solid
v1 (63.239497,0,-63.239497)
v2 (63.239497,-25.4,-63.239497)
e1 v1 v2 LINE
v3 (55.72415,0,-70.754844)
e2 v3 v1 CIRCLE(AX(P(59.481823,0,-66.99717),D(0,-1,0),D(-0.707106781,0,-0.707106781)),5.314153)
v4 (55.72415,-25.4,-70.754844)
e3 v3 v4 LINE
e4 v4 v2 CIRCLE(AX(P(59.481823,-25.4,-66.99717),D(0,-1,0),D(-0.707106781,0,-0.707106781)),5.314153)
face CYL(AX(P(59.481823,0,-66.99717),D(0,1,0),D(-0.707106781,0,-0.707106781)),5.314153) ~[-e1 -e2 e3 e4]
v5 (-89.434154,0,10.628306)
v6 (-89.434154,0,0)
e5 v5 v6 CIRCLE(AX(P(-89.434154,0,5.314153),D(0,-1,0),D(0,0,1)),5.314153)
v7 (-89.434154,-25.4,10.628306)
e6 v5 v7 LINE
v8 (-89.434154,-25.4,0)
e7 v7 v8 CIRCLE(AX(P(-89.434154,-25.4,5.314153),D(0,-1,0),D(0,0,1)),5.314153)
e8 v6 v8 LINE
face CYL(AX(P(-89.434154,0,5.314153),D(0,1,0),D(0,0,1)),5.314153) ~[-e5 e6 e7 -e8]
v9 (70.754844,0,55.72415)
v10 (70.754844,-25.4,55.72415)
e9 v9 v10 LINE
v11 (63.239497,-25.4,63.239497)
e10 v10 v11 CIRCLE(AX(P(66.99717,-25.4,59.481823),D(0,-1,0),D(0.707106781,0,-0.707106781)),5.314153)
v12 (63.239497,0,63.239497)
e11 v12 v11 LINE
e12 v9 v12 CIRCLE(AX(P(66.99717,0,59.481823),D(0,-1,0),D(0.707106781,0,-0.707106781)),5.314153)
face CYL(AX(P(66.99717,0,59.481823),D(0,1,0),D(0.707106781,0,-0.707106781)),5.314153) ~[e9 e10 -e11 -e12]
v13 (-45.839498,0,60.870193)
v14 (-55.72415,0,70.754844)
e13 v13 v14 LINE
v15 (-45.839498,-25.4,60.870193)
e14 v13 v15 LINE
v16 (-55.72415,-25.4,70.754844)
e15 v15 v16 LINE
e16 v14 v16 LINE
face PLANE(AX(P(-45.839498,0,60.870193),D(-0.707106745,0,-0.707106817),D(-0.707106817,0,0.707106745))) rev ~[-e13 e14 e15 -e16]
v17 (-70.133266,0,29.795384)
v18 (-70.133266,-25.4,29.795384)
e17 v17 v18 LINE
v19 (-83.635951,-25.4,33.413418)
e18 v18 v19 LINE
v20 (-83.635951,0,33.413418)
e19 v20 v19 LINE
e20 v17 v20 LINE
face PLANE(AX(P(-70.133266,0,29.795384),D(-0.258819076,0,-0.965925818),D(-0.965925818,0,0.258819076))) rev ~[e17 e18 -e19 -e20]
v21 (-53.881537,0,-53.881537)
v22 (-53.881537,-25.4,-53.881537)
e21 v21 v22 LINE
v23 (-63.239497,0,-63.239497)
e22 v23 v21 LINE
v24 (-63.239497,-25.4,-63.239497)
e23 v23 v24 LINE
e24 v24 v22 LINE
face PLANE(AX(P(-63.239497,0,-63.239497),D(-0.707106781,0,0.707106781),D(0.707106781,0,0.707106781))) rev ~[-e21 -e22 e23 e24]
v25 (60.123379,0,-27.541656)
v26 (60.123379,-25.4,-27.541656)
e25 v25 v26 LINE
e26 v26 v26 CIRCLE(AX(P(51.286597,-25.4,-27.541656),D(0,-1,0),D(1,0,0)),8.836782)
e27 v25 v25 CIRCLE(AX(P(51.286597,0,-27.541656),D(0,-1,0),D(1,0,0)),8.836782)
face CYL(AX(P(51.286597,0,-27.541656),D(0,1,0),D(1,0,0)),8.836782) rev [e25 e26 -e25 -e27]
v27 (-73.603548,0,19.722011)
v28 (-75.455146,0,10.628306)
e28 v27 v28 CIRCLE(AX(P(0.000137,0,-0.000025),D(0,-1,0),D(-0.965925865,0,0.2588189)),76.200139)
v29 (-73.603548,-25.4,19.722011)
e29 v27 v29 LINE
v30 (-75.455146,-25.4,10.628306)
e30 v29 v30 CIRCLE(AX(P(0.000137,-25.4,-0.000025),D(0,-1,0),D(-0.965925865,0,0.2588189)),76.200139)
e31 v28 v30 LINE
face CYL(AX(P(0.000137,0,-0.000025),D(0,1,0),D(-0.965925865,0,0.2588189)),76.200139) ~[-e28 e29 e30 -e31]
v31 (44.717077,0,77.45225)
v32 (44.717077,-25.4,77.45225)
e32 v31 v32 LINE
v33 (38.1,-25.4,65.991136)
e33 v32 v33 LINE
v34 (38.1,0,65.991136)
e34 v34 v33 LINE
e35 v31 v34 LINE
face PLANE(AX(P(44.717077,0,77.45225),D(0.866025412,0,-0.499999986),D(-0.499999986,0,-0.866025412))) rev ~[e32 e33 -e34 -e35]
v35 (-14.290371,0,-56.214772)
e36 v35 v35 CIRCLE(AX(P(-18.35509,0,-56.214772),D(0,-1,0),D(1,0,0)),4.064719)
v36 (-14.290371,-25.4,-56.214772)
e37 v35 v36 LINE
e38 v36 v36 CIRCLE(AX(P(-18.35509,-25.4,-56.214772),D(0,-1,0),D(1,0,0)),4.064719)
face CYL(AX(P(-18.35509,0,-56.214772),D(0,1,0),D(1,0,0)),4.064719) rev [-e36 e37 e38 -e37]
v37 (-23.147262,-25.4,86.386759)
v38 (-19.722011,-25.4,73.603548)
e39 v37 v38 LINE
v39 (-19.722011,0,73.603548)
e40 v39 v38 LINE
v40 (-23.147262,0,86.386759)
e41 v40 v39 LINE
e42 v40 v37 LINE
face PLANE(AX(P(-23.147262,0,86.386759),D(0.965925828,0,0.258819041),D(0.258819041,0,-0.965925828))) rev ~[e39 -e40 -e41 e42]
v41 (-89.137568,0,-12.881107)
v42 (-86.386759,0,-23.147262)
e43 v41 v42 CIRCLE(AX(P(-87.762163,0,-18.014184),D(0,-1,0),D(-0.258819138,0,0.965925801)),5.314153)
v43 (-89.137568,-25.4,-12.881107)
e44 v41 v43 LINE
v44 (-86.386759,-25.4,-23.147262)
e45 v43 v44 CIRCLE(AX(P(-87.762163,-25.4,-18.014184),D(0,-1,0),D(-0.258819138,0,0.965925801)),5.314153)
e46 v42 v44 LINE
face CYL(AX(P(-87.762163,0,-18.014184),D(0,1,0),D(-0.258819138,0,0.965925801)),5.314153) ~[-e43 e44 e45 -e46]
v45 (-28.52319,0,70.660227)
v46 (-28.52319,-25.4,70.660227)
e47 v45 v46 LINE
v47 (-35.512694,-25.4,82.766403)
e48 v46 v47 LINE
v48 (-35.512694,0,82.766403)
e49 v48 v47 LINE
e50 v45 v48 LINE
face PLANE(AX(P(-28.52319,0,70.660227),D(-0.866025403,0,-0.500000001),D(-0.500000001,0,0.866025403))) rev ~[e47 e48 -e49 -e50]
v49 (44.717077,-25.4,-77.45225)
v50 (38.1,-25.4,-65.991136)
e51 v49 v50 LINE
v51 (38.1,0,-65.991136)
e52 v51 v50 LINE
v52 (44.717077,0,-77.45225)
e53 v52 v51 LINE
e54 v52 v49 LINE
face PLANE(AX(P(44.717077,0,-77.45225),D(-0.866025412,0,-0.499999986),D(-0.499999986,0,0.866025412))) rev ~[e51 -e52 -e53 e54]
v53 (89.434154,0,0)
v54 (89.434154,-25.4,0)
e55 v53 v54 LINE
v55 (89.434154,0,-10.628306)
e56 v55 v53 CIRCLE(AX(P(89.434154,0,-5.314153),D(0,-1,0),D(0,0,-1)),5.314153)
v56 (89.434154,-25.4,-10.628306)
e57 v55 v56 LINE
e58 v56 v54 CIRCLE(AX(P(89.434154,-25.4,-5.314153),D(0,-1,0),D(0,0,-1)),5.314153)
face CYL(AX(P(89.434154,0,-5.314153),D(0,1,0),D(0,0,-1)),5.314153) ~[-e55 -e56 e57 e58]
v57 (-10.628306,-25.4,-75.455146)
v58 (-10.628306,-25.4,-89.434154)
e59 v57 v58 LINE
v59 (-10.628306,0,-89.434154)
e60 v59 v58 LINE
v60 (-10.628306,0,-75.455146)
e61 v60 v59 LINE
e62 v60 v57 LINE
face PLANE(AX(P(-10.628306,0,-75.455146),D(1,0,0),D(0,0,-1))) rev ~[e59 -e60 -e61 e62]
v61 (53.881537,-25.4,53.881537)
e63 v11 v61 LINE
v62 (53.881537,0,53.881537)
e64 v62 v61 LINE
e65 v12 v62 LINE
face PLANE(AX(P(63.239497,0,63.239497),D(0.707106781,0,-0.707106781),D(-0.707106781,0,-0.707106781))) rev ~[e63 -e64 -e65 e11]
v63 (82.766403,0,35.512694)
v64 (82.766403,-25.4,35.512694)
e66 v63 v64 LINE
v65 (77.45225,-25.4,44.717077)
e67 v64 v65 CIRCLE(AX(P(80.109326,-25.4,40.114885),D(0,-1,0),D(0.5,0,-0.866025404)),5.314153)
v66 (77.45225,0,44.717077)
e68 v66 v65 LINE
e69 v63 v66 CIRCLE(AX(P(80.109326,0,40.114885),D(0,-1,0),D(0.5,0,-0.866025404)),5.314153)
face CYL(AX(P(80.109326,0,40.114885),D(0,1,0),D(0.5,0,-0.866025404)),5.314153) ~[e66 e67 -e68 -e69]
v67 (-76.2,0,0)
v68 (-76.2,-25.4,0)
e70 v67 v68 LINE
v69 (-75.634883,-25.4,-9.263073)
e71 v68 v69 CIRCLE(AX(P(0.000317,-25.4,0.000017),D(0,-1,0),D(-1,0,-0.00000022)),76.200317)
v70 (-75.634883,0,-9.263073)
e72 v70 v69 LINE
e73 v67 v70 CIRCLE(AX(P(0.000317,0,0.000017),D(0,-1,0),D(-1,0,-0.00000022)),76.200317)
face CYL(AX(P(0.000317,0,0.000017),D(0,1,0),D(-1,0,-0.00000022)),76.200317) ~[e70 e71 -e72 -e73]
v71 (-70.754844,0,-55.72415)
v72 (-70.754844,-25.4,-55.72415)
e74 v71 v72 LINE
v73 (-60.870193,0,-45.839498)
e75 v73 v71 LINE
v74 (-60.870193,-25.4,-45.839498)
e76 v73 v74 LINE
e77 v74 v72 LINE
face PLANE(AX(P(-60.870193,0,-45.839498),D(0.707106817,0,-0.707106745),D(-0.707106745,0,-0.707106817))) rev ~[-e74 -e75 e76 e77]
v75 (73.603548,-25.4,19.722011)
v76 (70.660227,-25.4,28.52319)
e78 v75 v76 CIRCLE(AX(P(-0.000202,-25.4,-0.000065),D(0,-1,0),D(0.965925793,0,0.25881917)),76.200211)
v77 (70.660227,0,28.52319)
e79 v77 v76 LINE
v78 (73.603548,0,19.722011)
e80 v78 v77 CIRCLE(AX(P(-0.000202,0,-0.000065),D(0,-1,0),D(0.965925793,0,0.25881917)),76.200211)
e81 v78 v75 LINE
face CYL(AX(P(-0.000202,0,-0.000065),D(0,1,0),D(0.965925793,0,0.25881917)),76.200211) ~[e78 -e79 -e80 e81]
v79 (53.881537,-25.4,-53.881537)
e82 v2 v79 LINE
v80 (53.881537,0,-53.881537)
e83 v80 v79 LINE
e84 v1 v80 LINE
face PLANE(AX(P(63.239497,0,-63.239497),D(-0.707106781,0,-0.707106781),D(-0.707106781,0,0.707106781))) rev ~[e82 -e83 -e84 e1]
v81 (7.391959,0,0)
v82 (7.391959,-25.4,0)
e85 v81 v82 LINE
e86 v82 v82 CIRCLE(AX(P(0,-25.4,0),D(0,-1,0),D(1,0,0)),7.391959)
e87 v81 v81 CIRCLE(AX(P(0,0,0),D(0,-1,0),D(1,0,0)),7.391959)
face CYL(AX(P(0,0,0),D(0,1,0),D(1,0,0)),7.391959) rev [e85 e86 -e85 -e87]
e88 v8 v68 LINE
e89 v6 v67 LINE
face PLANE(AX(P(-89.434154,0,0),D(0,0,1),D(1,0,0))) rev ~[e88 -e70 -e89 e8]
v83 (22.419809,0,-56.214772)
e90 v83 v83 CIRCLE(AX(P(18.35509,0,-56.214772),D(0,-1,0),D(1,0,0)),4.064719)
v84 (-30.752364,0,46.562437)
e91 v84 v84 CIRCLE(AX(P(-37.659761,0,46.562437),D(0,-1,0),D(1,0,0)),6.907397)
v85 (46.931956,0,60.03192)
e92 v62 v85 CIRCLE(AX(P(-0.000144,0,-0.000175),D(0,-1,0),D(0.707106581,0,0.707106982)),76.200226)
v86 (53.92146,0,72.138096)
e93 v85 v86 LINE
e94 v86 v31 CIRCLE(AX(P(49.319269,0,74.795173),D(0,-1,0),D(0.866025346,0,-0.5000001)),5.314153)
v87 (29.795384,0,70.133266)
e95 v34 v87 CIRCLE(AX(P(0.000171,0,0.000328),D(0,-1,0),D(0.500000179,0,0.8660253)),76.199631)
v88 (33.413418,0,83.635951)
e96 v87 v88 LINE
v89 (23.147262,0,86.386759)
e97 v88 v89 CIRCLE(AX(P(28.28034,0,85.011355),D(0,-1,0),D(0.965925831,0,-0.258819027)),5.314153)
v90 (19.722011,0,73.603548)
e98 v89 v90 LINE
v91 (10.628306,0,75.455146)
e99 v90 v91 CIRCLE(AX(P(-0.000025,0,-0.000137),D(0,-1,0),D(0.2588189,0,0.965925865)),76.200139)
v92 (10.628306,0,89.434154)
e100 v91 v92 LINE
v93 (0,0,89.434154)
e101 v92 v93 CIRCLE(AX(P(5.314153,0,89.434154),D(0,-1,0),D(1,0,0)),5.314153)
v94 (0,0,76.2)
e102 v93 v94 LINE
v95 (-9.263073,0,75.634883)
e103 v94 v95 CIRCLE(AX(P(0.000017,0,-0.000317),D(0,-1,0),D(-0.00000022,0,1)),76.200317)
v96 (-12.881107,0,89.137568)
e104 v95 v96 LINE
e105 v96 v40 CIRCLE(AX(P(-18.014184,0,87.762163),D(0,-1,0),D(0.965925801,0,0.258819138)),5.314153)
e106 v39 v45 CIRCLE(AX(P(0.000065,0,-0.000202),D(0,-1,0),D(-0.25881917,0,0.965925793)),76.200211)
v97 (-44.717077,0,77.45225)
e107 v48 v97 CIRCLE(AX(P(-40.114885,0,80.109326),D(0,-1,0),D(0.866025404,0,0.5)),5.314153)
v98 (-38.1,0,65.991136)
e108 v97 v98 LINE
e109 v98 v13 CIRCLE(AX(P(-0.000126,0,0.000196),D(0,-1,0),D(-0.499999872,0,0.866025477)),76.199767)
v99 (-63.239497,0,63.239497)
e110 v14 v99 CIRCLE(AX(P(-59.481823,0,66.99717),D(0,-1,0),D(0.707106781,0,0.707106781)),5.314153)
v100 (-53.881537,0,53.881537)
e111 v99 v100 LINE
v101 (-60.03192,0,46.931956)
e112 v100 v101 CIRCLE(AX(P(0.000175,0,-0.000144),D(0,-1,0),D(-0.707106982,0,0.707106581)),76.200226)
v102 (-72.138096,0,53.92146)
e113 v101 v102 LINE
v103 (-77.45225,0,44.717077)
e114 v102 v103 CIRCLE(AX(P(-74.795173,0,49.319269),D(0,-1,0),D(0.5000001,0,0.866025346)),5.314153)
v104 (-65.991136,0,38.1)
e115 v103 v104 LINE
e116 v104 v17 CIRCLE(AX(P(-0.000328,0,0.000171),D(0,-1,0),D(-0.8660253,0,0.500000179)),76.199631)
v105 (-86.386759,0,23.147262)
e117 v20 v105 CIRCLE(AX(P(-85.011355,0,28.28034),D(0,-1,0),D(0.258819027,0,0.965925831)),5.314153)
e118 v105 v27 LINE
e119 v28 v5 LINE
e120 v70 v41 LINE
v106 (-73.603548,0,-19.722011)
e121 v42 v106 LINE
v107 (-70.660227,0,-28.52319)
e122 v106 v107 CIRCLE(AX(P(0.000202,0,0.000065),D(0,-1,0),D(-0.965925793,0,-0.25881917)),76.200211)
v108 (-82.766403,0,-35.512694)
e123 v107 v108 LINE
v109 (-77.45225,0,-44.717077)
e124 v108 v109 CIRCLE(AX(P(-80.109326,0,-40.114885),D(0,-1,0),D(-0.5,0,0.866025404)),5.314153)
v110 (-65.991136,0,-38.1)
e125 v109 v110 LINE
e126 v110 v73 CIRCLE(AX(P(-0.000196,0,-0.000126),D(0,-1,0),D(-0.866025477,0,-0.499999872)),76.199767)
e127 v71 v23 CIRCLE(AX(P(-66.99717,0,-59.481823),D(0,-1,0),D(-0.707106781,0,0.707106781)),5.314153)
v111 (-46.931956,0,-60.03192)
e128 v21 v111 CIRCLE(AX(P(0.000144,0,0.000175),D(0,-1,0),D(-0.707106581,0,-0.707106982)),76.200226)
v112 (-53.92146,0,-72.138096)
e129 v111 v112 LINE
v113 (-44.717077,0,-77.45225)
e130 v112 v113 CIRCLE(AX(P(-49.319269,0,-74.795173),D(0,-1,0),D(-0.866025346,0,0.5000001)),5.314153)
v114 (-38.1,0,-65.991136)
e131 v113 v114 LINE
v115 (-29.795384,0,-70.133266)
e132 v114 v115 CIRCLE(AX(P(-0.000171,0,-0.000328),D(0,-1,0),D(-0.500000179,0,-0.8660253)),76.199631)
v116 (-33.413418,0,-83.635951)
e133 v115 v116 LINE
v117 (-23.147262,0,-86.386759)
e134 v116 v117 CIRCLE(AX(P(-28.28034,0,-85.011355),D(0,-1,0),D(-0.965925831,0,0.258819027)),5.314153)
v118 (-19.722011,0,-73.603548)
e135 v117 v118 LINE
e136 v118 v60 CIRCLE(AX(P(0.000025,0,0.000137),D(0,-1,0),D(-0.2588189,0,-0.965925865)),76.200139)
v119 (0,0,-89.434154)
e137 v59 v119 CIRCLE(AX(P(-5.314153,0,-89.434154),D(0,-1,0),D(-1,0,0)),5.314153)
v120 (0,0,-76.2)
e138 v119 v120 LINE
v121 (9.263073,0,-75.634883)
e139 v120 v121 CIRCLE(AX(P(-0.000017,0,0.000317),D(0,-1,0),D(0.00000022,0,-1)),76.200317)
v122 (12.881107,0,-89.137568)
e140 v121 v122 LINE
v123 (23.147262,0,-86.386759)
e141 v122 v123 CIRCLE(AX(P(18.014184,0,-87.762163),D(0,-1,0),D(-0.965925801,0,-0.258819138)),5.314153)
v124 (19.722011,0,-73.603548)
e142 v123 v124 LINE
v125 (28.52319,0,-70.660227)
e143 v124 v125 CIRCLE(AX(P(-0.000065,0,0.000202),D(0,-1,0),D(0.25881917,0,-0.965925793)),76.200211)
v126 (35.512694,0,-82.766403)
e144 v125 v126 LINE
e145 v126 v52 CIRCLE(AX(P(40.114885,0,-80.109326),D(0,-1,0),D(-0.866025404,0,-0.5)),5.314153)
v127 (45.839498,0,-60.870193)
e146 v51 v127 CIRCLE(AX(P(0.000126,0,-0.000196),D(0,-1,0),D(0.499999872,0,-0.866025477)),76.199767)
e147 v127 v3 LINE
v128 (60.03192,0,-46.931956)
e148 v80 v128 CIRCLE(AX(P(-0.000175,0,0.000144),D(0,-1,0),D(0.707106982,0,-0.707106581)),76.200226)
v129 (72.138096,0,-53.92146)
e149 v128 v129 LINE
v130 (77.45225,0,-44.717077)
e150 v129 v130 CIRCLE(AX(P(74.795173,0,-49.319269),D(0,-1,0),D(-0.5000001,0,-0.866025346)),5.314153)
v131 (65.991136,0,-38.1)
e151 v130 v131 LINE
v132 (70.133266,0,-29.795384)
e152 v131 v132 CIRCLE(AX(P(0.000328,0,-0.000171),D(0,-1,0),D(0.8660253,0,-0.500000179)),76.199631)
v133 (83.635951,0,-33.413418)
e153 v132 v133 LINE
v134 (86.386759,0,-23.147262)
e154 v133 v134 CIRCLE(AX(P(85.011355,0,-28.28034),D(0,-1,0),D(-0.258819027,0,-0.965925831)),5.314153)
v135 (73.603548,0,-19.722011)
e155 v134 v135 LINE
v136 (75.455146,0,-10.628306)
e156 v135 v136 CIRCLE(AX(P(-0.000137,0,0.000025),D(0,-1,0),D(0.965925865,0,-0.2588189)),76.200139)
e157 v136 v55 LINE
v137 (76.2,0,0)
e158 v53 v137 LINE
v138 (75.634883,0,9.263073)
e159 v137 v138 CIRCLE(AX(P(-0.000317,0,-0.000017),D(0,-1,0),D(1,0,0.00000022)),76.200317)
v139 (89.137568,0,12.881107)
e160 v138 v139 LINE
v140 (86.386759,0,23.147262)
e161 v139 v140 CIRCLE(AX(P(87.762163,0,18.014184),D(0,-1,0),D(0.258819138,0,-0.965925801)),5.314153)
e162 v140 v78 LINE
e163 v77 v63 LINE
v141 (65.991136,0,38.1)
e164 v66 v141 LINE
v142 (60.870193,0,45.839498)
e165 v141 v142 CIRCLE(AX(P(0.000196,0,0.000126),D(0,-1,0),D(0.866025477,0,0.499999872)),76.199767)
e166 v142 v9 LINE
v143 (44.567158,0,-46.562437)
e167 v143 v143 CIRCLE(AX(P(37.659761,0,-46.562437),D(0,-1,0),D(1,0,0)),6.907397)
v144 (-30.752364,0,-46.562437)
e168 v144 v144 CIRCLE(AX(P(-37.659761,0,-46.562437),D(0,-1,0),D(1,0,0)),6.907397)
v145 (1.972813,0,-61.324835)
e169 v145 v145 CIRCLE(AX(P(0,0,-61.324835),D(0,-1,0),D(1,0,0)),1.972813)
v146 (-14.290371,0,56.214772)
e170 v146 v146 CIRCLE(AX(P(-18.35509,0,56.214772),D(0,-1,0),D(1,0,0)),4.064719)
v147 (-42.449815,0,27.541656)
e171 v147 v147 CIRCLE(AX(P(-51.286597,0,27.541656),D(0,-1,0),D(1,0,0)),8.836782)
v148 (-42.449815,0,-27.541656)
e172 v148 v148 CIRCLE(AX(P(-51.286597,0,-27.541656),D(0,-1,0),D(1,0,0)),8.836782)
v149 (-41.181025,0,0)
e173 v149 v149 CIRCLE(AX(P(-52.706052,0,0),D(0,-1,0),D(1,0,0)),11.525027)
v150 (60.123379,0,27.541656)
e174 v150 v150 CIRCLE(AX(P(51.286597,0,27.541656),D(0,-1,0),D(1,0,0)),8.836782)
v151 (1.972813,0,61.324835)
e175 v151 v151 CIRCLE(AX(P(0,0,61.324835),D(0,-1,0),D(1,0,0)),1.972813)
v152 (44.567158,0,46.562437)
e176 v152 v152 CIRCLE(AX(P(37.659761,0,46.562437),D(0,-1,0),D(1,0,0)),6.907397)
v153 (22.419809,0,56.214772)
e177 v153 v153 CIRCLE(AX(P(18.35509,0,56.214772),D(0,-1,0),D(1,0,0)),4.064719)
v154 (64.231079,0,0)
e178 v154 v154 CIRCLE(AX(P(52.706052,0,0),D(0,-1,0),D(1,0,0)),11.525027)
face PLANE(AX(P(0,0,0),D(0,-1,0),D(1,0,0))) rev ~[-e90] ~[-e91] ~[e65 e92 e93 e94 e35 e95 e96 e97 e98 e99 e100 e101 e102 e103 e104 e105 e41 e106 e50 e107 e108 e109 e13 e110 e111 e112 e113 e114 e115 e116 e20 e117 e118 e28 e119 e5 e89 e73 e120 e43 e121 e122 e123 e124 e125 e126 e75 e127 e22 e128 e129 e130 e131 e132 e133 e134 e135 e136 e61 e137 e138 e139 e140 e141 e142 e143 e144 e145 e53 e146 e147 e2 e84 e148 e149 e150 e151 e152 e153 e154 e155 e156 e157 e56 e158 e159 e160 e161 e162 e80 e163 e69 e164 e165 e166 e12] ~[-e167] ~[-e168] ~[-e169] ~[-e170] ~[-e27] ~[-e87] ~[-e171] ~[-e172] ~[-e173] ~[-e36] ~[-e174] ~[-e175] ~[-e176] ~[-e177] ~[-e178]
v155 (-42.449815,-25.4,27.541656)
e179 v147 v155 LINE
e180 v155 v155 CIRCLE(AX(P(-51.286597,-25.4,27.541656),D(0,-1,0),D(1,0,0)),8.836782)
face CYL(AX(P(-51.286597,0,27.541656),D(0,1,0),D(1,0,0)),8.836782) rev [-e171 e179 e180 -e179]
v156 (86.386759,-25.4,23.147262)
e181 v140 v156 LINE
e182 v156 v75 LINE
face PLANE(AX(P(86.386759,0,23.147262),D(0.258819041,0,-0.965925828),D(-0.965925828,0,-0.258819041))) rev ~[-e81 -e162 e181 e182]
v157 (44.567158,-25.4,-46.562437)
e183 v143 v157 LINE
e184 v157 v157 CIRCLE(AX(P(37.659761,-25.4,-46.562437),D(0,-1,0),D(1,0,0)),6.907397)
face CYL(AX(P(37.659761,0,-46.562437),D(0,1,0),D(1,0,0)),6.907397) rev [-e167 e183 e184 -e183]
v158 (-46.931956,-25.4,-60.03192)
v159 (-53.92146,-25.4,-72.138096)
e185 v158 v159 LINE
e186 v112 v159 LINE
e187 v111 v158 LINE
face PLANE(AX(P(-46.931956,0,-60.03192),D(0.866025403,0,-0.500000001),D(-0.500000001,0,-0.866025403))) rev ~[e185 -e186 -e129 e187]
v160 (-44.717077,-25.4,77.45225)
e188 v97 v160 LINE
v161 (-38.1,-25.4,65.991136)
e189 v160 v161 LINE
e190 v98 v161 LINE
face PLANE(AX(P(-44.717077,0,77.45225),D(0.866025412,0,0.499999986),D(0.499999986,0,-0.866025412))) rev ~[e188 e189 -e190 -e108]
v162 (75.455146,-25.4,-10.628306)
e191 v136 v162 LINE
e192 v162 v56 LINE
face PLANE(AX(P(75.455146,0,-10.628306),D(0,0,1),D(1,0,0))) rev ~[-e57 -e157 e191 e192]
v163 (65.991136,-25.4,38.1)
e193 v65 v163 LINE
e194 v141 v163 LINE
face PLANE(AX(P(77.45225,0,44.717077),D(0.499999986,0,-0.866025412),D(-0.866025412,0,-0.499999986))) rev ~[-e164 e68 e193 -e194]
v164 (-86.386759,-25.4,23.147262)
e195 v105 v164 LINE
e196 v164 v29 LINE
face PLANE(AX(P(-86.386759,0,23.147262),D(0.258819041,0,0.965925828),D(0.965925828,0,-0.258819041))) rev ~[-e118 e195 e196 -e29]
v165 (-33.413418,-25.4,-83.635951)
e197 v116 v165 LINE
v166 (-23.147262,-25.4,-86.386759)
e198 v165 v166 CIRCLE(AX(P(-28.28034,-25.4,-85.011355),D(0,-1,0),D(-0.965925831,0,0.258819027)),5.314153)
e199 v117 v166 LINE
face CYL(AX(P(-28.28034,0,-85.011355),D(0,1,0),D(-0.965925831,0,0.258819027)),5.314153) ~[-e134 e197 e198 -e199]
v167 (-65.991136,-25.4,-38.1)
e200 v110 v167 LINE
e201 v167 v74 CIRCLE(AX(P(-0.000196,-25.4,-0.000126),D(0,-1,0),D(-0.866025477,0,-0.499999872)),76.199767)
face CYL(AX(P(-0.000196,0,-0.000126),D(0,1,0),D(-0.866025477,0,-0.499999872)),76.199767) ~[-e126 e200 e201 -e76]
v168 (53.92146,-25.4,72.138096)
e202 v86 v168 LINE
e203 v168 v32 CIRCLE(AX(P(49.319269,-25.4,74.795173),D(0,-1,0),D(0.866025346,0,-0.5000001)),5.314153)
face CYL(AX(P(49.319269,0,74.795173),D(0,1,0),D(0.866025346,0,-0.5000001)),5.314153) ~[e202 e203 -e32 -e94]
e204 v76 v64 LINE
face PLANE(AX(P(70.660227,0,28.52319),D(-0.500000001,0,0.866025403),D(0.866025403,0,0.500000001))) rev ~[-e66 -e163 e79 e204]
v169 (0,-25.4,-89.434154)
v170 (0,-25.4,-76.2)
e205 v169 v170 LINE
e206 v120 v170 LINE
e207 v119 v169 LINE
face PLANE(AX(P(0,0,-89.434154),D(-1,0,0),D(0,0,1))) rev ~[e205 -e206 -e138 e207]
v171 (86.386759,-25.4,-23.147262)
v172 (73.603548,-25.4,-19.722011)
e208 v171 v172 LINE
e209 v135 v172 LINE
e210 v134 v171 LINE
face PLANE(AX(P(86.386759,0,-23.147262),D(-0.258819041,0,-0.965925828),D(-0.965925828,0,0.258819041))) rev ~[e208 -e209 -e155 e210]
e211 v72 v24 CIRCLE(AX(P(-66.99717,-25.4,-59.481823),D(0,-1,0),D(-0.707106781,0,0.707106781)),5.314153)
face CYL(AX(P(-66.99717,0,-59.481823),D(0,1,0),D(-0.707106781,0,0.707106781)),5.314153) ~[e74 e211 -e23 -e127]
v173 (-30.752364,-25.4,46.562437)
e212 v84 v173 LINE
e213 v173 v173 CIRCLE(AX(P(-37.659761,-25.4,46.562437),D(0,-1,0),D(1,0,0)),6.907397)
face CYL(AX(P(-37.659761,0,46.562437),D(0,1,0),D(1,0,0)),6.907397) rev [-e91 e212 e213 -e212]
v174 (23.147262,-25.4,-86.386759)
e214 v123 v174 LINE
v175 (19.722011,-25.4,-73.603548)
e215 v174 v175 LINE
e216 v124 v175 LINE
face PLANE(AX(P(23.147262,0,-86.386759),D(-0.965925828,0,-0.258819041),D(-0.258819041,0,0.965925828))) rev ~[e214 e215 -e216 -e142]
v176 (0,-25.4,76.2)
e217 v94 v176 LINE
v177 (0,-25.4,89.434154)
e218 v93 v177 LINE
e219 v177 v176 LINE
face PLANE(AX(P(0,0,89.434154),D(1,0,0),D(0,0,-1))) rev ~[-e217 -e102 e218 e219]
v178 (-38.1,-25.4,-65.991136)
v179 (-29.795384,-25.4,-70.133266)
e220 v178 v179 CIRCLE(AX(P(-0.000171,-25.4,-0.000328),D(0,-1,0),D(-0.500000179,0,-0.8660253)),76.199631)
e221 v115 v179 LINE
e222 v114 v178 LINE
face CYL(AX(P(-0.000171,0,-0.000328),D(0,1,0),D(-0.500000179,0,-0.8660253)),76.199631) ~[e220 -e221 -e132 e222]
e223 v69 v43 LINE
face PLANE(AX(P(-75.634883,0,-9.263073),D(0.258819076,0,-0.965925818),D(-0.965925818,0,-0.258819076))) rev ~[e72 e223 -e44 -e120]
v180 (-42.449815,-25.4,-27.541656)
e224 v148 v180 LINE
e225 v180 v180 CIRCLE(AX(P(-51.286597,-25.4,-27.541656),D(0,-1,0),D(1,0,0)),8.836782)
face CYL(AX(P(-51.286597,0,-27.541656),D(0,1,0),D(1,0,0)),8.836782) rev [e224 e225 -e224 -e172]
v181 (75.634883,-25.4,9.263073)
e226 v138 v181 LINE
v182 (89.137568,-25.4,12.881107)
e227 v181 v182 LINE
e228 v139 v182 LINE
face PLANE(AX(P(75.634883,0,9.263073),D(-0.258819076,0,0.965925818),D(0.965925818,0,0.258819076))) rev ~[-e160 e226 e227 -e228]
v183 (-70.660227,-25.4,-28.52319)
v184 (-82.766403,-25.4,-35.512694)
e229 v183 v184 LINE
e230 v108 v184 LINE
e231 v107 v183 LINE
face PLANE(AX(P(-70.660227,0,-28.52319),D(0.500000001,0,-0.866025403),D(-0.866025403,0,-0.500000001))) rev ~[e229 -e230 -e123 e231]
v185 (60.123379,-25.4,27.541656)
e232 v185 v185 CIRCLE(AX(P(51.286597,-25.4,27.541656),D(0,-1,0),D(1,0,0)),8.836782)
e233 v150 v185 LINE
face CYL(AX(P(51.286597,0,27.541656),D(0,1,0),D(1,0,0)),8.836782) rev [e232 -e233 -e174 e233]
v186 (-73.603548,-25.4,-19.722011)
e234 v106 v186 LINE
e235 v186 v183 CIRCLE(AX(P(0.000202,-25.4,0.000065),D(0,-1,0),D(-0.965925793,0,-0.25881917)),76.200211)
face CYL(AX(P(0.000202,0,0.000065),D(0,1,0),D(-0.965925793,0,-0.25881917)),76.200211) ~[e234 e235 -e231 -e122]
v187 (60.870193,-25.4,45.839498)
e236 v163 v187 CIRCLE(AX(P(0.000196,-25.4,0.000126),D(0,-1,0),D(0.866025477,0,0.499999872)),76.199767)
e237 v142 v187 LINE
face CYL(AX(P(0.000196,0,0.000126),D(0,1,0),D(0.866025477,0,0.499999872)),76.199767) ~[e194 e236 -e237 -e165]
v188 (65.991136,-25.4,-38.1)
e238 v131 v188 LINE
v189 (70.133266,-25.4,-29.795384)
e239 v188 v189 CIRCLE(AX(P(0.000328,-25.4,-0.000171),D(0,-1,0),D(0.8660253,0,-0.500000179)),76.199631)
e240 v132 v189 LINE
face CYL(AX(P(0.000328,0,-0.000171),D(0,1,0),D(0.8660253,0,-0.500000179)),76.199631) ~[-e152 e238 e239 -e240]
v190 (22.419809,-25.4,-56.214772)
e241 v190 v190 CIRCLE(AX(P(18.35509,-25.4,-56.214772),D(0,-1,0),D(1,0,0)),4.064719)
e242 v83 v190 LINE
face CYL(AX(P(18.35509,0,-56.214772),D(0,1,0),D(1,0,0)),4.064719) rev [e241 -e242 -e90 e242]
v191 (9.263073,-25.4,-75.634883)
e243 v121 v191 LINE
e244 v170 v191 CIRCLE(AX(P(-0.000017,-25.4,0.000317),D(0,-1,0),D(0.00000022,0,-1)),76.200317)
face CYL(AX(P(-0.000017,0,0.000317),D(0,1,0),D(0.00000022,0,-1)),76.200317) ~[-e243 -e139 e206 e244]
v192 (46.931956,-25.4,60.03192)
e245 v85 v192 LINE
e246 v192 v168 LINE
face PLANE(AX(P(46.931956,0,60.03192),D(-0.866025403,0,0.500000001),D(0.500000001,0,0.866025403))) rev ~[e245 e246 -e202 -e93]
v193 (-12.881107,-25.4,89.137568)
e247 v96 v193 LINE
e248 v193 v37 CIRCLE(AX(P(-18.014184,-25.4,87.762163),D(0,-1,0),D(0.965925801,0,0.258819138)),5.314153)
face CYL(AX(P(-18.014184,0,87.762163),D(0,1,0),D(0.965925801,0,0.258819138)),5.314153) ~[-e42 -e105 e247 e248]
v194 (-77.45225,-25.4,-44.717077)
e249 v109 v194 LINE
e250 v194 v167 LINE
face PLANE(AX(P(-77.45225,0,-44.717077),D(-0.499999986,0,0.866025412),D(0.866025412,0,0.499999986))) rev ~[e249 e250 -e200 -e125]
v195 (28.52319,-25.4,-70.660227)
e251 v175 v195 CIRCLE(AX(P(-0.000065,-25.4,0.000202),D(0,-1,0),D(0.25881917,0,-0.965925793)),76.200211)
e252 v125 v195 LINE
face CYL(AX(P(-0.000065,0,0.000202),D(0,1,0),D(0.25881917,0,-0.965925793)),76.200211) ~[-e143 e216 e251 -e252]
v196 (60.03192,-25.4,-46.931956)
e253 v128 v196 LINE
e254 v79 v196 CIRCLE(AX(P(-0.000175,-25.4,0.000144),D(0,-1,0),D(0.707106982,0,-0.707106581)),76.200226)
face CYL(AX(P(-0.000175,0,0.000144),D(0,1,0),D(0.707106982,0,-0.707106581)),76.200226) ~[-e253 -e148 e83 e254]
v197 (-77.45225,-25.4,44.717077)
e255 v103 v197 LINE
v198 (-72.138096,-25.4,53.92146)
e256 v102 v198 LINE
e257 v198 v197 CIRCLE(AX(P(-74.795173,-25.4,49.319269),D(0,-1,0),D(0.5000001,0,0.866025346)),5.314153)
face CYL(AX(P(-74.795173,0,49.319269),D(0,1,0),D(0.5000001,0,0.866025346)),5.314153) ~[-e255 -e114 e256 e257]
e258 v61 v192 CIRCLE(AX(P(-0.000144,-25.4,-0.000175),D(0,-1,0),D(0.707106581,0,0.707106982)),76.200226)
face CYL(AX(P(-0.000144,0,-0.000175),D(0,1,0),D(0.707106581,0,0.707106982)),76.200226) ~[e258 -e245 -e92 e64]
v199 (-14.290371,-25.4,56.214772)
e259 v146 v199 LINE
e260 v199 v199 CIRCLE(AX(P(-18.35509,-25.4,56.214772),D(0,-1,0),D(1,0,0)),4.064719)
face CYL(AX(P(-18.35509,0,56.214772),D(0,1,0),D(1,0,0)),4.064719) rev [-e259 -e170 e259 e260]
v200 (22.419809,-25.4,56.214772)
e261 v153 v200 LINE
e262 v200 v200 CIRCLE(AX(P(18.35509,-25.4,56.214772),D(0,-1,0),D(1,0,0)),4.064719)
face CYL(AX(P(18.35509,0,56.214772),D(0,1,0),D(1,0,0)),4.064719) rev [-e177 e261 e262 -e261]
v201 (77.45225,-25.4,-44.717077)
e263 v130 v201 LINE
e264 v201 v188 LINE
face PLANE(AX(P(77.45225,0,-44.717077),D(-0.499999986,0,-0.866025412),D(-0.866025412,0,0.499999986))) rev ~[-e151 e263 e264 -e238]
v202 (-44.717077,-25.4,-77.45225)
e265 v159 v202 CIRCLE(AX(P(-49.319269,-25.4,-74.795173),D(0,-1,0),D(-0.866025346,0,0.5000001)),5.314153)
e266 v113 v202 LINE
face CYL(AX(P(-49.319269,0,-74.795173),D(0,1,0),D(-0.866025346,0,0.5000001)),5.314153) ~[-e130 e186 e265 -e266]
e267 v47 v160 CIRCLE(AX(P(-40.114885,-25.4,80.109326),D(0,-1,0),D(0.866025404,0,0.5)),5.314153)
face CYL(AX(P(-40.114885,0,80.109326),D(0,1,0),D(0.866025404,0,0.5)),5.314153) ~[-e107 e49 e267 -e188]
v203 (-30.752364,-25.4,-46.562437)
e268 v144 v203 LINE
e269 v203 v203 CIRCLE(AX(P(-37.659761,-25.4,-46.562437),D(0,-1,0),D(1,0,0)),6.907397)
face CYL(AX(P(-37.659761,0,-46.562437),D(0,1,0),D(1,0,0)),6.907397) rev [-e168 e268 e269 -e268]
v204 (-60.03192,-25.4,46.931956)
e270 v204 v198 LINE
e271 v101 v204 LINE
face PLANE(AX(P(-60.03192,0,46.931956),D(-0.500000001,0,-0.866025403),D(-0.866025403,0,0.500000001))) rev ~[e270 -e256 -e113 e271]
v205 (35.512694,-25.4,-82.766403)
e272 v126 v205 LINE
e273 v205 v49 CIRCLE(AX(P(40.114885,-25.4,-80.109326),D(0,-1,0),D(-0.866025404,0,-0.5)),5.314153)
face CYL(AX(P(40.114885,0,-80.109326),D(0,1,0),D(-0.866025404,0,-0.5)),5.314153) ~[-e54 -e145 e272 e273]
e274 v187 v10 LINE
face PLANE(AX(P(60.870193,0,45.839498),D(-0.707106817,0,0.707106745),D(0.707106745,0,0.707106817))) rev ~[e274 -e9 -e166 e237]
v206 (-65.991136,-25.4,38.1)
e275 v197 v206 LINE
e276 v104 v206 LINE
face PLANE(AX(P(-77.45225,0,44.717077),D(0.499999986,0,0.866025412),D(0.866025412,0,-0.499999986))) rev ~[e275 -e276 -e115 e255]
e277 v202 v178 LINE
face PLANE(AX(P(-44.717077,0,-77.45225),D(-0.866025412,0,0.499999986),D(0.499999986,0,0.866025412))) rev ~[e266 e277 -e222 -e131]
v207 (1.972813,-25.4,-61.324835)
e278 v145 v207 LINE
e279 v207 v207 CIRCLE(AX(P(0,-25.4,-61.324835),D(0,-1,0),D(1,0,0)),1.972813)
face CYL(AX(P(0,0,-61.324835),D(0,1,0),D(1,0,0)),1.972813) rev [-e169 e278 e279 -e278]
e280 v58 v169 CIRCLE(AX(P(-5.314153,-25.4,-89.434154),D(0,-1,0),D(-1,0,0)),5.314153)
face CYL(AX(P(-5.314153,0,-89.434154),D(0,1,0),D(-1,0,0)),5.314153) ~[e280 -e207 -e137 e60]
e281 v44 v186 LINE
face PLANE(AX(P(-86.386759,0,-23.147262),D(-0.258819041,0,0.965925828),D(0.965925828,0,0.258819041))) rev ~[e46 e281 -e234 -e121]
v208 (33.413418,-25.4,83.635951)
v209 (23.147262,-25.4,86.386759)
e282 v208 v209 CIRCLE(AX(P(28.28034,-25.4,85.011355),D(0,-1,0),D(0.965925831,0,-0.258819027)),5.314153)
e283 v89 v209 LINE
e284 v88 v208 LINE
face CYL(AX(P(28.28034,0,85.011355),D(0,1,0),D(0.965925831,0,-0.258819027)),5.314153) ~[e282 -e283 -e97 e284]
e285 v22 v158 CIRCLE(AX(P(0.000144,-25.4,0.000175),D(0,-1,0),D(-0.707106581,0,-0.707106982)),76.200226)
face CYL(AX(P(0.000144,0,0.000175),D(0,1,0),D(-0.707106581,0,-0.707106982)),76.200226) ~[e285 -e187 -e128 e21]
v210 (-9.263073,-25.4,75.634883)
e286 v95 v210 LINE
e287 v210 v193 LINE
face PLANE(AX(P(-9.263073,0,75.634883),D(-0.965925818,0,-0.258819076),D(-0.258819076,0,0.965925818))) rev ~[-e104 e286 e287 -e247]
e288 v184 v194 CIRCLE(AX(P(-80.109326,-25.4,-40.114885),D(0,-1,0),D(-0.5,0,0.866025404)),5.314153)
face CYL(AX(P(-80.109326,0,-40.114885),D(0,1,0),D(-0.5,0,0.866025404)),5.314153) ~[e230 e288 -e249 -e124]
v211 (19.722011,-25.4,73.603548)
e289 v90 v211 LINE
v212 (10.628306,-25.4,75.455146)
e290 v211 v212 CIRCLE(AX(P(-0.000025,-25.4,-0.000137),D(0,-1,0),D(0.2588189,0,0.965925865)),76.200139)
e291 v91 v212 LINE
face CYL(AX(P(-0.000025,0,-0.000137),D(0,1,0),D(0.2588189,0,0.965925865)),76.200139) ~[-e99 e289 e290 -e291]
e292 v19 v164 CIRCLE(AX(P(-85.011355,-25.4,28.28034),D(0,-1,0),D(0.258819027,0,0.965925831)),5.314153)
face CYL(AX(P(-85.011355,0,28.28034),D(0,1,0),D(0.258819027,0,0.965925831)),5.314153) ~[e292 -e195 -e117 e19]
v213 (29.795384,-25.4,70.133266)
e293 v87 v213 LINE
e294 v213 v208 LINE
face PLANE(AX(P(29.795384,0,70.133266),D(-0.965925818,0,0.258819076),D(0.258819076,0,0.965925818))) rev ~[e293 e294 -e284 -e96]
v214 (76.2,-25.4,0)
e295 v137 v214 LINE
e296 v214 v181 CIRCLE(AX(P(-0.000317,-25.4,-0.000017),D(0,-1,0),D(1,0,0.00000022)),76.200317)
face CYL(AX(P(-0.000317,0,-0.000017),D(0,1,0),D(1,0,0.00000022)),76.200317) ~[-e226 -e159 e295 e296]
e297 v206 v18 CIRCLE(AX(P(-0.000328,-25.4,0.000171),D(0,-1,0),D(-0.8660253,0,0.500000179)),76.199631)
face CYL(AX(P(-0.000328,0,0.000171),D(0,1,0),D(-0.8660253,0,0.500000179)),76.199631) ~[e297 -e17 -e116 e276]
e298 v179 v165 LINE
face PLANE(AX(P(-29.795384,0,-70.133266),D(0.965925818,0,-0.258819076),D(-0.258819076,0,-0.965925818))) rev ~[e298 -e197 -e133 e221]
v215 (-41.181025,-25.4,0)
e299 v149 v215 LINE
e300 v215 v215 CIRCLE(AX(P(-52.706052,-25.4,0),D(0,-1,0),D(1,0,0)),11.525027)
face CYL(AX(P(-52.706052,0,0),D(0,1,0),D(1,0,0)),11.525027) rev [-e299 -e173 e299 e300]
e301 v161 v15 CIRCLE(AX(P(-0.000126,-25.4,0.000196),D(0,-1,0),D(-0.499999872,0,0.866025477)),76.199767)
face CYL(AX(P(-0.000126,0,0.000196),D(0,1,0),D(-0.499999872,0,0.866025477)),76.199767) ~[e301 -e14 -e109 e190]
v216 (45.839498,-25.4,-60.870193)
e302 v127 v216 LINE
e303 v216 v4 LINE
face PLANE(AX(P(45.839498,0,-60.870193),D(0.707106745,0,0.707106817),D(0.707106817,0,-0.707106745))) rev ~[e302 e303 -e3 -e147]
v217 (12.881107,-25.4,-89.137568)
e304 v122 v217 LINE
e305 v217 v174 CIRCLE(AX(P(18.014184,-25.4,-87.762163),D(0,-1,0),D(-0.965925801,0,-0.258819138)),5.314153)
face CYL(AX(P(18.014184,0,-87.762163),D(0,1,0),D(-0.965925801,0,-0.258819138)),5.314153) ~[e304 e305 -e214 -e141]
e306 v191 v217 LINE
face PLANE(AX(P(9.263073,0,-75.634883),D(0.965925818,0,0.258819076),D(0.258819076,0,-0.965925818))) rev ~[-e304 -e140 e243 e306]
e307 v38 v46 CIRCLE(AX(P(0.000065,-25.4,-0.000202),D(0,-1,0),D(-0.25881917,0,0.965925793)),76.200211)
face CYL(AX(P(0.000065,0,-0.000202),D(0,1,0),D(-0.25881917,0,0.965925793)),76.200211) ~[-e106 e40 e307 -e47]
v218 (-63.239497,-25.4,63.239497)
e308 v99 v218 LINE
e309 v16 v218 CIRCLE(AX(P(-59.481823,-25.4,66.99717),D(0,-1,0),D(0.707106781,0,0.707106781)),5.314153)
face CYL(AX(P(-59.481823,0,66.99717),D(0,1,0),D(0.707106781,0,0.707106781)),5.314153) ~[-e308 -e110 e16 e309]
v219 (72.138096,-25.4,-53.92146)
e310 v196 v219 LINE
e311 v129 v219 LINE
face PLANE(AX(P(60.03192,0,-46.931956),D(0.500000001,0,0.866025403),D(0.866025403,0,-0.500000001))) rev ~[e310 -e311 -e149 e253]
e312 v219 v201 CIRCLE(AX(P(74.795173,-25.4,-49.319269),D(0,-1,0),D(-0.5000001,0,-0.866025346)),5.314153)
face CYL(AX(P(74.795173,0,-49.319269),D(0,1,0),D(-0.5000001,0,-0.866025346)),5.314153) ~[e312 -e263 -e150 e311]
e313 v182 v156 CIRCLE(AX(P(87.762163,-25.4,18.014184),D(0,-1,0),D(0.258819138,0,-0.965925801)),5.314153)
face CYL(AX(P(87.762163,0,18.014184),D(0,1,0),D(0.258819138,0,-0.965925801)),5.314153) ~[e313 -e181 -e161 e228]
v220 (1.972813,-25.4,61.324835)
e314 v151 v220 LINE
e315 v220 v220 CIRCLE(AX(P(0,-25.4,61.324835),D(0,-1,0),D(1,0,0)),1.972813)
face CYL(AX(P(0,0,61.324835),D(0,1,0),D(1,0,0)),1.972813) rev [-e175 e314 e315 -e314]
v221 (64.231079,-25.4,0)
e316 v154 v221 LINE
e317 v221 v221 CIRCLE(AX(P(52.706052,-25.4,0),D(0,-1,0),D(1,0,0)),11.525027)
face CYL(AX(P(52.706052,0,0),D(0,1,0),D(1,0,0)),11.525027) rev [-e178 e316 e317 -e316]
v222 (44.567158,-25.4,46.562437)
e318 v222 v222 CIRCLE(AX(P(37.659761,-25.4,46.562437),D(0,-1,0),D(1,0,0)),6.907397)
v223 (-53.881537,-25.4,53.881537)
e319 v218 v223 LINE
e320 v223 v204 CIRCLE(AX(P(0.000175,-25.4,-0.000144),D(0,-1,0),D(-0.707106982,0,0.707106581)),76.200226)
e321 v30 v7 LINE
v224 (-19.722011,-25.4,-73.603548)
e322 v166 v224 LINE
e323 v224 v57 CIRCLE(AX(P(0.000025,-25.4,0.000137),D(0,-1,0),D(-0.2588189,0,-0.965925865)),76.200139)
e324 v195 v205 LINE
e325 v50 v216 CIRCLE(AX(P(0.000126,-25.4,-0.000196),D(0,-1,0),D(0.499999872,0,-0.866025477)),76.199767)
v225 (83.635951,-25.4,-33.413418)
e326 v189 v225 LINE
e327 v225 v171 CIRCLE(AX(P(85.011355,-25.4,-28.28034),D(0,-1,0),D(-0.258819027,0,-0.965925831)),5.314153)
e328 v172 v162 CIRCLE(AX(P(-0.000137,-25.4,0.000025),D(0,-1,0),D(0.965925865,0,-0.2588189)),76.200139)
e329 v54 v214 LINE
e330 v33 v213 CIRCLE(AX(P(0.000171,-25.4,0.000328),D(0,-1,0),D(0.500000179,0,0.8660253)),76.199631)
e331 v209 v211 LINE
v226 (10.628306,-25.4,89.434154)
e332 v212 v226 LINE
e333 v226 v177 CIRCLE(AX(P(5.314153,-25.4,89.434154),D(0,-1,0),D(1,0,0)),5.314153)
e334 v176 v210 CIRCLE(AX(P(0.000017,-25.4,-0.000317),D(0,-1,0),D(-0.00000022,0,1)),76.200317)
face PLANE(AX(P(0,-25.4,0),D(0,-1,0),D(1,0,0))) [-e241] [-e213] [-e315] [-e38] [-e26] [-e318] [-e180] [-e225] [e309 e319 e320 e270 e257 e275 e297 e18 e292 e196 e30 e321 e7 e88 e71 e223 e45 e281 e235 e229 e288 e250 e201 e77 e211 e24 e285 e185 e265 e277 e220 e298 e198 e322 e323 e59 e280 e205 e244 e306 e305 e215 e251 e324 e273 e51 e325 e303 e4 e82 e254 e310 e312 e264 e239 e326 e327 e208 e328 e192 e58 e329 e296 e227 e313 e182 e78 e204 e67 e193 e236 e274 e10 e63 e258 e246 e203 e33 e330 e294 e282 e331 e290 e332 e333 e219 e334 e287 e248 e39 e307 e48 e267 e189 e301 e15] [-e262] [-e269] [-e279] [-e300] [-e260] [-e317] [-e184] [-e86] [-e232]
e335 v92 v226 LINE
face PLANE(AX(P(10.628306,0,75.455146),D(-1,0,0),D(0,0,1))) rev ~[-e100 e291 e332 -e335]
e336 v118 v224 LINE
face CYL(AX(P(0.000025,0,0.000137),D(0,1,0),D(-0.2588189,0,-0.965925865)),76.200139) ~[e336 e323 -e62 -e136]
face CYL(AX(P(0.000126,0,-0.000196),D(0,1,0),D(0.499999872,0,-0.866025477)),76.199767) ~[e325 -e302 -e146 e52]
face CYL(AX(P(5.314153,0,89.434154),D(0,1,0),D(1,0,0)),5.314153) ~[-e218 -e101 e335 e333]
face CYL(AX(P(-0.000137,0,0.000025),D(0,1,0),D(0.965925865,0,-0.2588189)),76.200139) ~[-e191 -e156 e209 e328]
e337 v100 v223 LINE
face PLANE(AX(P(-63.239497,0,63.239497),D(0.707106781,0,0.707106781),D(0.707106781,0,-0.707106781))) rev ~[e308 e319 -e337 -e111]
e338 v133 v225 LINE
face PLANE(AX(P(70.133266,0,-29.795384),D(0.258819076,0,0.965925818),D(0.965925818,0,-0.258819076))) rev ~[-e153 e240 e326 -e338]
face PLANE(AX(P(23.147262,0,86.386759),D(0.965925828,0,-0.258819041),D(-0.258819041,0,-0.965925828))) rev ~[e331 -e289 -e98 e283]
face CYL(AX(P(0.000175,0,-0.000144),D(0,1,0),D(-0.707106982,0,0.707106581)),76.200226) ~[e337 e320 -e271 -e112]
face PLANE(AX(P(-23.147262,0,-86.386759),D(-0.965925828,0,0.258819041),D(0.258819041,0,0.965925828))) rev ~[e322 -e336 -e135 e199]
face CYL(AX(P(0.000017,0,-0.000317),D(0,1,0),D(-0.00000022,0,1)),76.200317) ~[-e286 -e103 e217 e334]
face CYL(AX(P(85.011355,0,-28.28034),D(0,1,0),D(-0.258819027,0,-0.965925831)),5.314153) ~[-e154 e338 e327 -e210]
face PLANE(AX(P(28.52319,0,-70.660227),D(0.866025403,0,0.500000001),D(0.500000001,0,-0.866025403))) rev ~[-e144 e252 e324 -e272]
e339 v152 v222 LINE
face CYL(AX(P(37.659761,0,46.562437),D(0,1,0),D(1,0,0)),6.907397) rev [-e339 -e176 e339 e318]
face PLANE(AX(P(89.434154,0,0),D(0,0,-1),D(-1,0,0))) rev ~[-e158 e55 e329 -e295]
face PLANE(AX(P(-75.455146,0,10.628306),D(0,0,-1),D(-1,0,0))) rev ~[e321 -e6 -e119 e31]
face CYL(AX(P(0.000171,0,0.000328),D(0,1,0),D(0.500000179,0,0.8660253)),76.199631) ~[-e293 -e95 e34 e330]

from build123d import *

# Parameters (mm, degrees)
F0_R     = 4.064719
F0_R_2   = 8.836782
F0_R_3   = 6.907397
F0_R_4   = 1.972813
F0_R_5   = 11.525027
F0_R_6   = 7.391959
F1_DEPTH = 25.4


with BuildPart() as f1:
    # F0 (on Front) → F1 (new body)
    with BuildSketch(Plane.XZ):
        with BuildLine():
            ThreePointArc((75.455146, -10.628306), (76.013558, -5.327187), (76.2, 0))
            ThreePointArc((76.2, 0), (76.058589, 4.640148), (75.634883, 9.263073))
            ThreePointArc((75.634883, 9.263073), (74.802237, 14.528089), (73.603548, 19.722011))
            ThreePointArc((73.603548, 19.722011), (72.265997, 24.16745), (70.660227, 28.52319))
            ThreePointArc((70.660227, 28.52319), (68.493266, 33.3933), (65.991136, 38.1))
            ThreePointArc((65.991136, 38.1), (63.548597, 42.047781), (60.870193, 45.839498))
            ThreePointArc((60.870193, 45.839498), (57.516593, 49.982812), (53.881537, 53.881537))
            ThreePointArc((53.881537, 53.881537), (50.500464, 57.062624), (46.931956, 60.03192))
            ThreePointArc((46.931956, 60.03192), (42.620259, 63.166079), (38.1, 65.991136))
            ThreePointArc((38.1, 65.991136), (34.010809, 68.188745), (29.795384, 70.133266))
            ThreePointArc((29.795384, 70.133266), (24.819425, 72.044682), (19.722011, 73.603548))
            ThreePointArc((19.722011, 73.603548), (15.203373, 74.667914), (10.628306, 75.455146))
            ThreePointArc((10.628306, 75.455146), (5.327187, 76.013558), (0, 76.2))
            ThreePointArc((0, 76.2), (-4.640148, 76.058589), (-9.263073, 75.634883))
            ThreePointArc((-9.263073, 75.634883), (-14.528089, 74.802237), (-19.722011, 73.603548))
            ThreePointArc((-19.722011, 73.603548), (-24.16745, 72.265997), (-28.52319, 70.660227))
            ThreePointArc((-28.52319, 70.660227), (-33.3933, 68.493266), (-38.1, 65.991136))
            ThreePointArc((-38.1, 65.991136), (-42.047781, 63.548597), (-45.839498, 60.870193))
            ThreePointArc((-45.839498, 60.870193), (-49.982812, 57.516593), (-53.881537, 53.881537))
            ThreePointArc((-53.881537, 53.881537), (-57.062624, 50.500464), (-60.03192, 46.931956))
            ThreePointArc((-60.03192, 46.931956), (-63.166079, 42.620259), (-65.991136, 38.1))
            ThreePointArc((-65.991136, 38.1), (-68.188745, 34.010809), (-70.133266, 29.795384))
            ThreePointArc((-70.133266, 29.795384), (-72.044682, 24.819425), (-73.603548, 19.722011))
            ThreePointArc((-73.603548, 19.722011), (-74.667914, 15.203373), (-75.455146, 10.628306))
            ThreePointArc((-75.455146, 10.628306), (-76.013558, 5.327187), (-76.2, 0))
            ThreePointArc((-76.2, 0), (-76.058589, -4.640148), (-75.634883, -9.263073))
            ThreePointArc((-75.634883, -9.263073), (-74.802237, -14.528089), (-73.603548, -19.722011))
            ThreePointArc((-73.603548, -19.722011), (-72.265997, -24.16745), (-70.660227, -28.52319))
            ThreePointArc((-70.660227, -28.52319), (-68.493266, -33.3933), (-65.991136, -38.1))
            ThreePointArc((-65.991136, -38.1), (-63.548597, -42.047781), (-60.870193, -45.839498))
            ThreePointArc((-60.870193, -45.839498), (-57.516593, -49.982812), (-53.881537, -53.881537))
            ThreePointArc((-53.881537, -53.881537), (-50.500464, -57.062624), (-46.931956, -60.03192))
            ThreePointArc((-46.931956, -60.03192), (-42.620259, -63.166079), (-38.1, -65.991136))
            ThreePointArc((-38.1, -65.991136), (-34.010809, -68.188745), (-29.795384, -70.133266))
            ThreePointArc((-29.795384, -70.133266), (-24.819425, -72.044682), (-19.722011, -73.603548))
            ThreePointArc((-19.722011, -73.603548), (-15.203373, -74.667914), (-10.628306, -75.455146))
            ThreePointArc((-10.628306, -75.455146), (-5.327187, -76.013558), (0, -76.2))
            ThreePointArc((0, -76.2), (4.640148, -76.058589), (9.263073, -75.634883))
            ThreePointArc((9.263073, -75.634883), (14.528089, -74.802237), (19.722011, -73.603548))
            ThreePointArc((19.722011, -73.603548), (24.16745, -72.265997), (28.52319, -70.660227))
            ThreePointArc((28.52319, -70.660227), (33.3933, -68.493266), (38.1, -65.991136))
            ThreePointArc((38.1, -65.991136), (42.047781, -63.548597), (45.839498, -60.870193))
            ThreePointArc((45.839498, -60.870193), (49.982812, -57.516593), (53.881537, -53.881537))
            ThreePointArc((53.881537, -53.881537), (57.062624, -50.500464), (60.03192, -46.931956))
            ThreePointArc((60.03192, -46.931956), (63.166079, -42.620259), (65.991136, -38.1))
            ThreePointArc((65.991136, -38.1), (68.188745, -34.010809), (70.133266, -29.795384))
            ThreePointArc((70.133266, -29.795384), (72.044682, -24.819425), (73.603548, -19.722011))
            ThreePointArc((73.603548, -19.722011), (74.667914, -15.203373), (75.455146, -10.628306))
        make_face()
        with Locations((-18.35509, -56.214772)):
            Circle(F0_R, mode=Mode.SUBTRACT)
        with Locations((-51.286597, -27.541656)):
            Circle(F0_R_2, mode=Mode.SUBTRACT)
        with Locations((-37.659761, -46.562437)):
            Circle(F0_R_3, mode=Mode.SUBTRACT)
        with Locations((0, -61.324835)):
            Circle(F0_R_4, mode=Mode.SUBTRACT)
        with Locations((18.35509, -56.214772)):
            Circle(F0_R, mode=Mode.SUBTRACT)
        with Locations((37.659761, -46.562437)):
            Circle(F0_R_3, mode=Mode.SUBTRACT)
        with Locations((51.286597, -27.541656)):
            Circle(F0_R_2, mode=Mode.SUBTRACT)
        with Locations((-52.706052, 0)):
            Circle(F0_R_5, mode=Mode.SUBTRACT)
        with Locations((-51.286597, 27.541656)):
            Circle(F0_R_2, mode=Mode.SUBTRACT)
        with Locations((-37.659761, 46.562437)):
            Circle(F0_R_3, mode=Mode.SUBTRACT)
        with Locations((-18.35509, 56.214772)):
            Circle(F0_R, mode=Mode.SUBTRACT)
        Circle(F0_R_6, mode=Mode.SUBTRACT)
        with Locations((37.659761, 46.562437)):
            Circle(F0_R_3, mode=Mode.SUBTRACT)
        with Locations((52.706052, 0)):
            Circle(F0_R_5, mode=Mode.SUBTRACT)
        with Locations((51.286597, 27.541656)):
            Circle(F0_R_2, mode=Mode.SUBTRACT)
        with Locations((18.35509, 56.214772)):
            Circle(F0_R, mode=Mode.SUBTRACT)
        with Locations((0, 61.324835)):
            Circle(F0_R_4, mode=Mode.SUBTRACT)
        with BuildLine():
            Line((89.434154, 0), (76.2, 0))
            ThreePointArc((76.2, 0), (76.013558, -5.327187), (75.455146, -10.628306))
            Line((75.455146, -10.628306), (89.434154, -10.628306))
            ThreePointArc((89.434154, -10.628306), (94.748307, -5.314153), (89.434154, 0))
        make_face()
        with BuildLine():
            ThreePointArc((73.603548, 19.722011), (74.802237, 14.528089), (75.634883, 9.263073))
            Line((75.634883, 9.263073), (89.137568, 12.881107))
            ThreePointArc((89.137568, 12.881107), (92.895241, 19.389589), (86.386759, 23.147262))
            Line((86.386759, 23.147262), (73.603548, 19.722011))
        make_face()
        with BuildLine():
            Line((86.386759, -23.147262), (73.603548, -19.722011))
            ThreePointArc((73.603548, -19.722011), (72.044682, -24.819425), (70.133266, -29.795384))
            Line((70.133266, -29.795384), (83.635951, -33.413418))
            ThreePointArc((83.635951, -33.413418), (90.144433, -29.655744), (86.386759, -23.147262))
        make_face()
        with BuildLine():
            ThreePointArc((65.991136, 38.1), (68.493266, 33.3933), (70.660227, 28.52319))
            Line((70.660227, 28.52319), (82.766403, 35.512694))
            ThreePointArc((82.766403, 35.512694), (84.711518, 42.771962), (77.45225, 44.717077))
            Line((77.45225, 44.717077), (65.991136, 38.1))
        make_face()
        with BuildLine():
            Line((77.45225, -44.717077), (65.991136, -38.1))
            ThreePointArc((65.991136, -38.1), (63.166079, -42.620259), (60.03192, -46.931956))
            Line((60.03192, -46.931956), (72.138096, -53.92146))
            ThreePointArc((72.138096, -53.92146), (79.397365, -51.976345), (77.45225, -44.717077))
        make_face()
        with BuildLine():
            ThreePointArc((53.881537, 53.881537), (57.516593, 49.982812), (60.870193, 45.839498))
            Line((60.870193, 45.839498), (70.754844, 55.72415))
            ThreePointArc((70.754844, 55.72415), (70.754844, 63.239497), (63.239497, 63.239497))
            Line((63.239497, 63.239497), (53.881537, 53.881537))
        make_face()
        with BuildLine():
            Line((63.239497, -63.239497), (53.881537, -53.881537))
            ThreePointArc((53.881537, -53.881537), (49.982812, -57.516593), (45.839498, -60.870193))
            Line((45.839498, -60.870193), (55.72415, -70.754844))
            ThreePointArc((55.72415, -70.754844), (63.239497, -70.754844), (63.239497, -63.239497))
        make_face()
        with BuildLine():
            ThreePointArc((38.1, 65.991136), (42.620259, 63.166079), (46.931956, 60.03192))
            Line((46.931956, 60.03192), (53.92146, 72.138096))
            ThreePointArc((53.92146, 72.138096), (51.976345, 79.397365), (44.717077, 77.45225))
            Line((44.717077, 77.45225), (38.1, 65.991136))
        make_face()
        with BuildLine():
            Line((44.717077, -77.45225), (38.1, -65.991136))
            ThreePointArc((38.1, -65.991136), (33.3933, -68.493266), (28.52319, -70.660227))
            Line((28.52319, -70.660227), (35.512694, -82.766403))
            ThreePointArc((35.512694, -82.766403), (42.771962, -84.711518), (44.717077, -77.45225))
        make_face()
        with BuildLine():
            ThreePointArc((19.722011, 73.603548), (24.819425, 72.044682), (29.795384, 70.133266))
            Line((29.795384, 70.133266), (33.413418, 83.635951))
            ThreePointArc((33.413418, 83.635951), (29.655744, 90.144433), (23.147262, 86.386759))
            Line((23.147262, 86.386759), (19.722011, 73.603548))
        make_face()
        with BuildLine():
            Line((23.147262, -86.386759), (19.722011, -73.603548))
            ThreePointArc((19.722011, -73.603548), (14.528089, -74.802237), (9.263073, -75.634883))
            Line((9.263073, -75.634883), (12.881107, -89.137568))
            ThreePointArc((12.881107, -89.137568), (19.389589, -92.895241), (23.147262, -86.386759))
        make_face()
        with BuildLine():
            ThreePointArc((0, 76.2), (5.327187, 76.013558), (10.628306, 75.455146))
            Line((10.628306, 75.455146), (10.628306, 89.434154))
            ThreePointArc((10.628306, 89.434154), (5.314153, 94.748307), (0, 89.434154))
            Line((0, 89.434154), (0, 76.2))
        make_face()
        with BuildLine():
            Line((0, -89.434154), (0, -76.2))
            ThreePointArc((0, -76.2), (-5.327187, -76.013558), (-10.628306, -75.455146))
            Line((-10.628306, -75.455146), (-10.628306, -89.434154))
            ThreePointArc((-10.628306, -89.434154), (-5.314153, -94.748307), (0, -89.434154))
        make_face()
        with BuildLine():
            ThreePointArc((-19.722011, 73.603548), (-14.528089, 74.802237), (-9.263073, 75.634883))
            Line((-9.263073, 75.634883), (-12.881107, 89.137568))
            ThreePointArc((-12.881107, 89.137568), (-19.389589, 92.895241), (-23.147262, 86.386759))
            Line((-23.147262, 86.386759), (-19.722011, 73.603548))
        make_face()
        with BuildLine():
            Line((-23.147262, -86.386759), (-19.722011, -73.603548))
            ThreePointArc((-19.722011, -73.603548), (-24.819425, -72.044682), (-29.795384, -70.133266))
            Line((-29.795384, -70.133266), (-33.413418, -83.635951))
            ThreePointArc((-33.413418, -83.635951), (-29.655744, -90.144433), (-23.147262, -86.386759))
        make_face()
        with BuildLine():
            ThreePointArc((-38.1, 65.991136), (-33.3933, 68.493266), (-28.52319, 70.660227))
            Line((-28.52319, 70.660227), (-35.512694, 82.766403))
            ThreePointArc((-35.512694, 82.766403), (-42.771962, 84.711518), (-44.717077, 77.45225))
            Line((-44.717077, 77.45225), (-38.1, 65.991136))
        make_face()
        with BuildLine():
            Line((-44.717077, -77.45225), (-38.1, -65.991136))
            ThreePointArc((-38.1, -65.991136), (-42.620259, -63.166079), (-46.931956, -60.03192))
            Line((-46.931956, -60.03192), (-53.92146, -72.138096))
            ThreePointArc((-53.92146, -72.138096), (-51.976345, -79.397365), (-44.717077, -77.45225))
        make_face()
        with BuildLine():
            ThreePointArc((-53.881537, 53.881537), (-49.982812, 57.516593), (-45.839498, 60.870193))
            Line((-45.839498, 60.870193), (-55.72415, 70.754844))
            ThreePointArc((-55.72415, 70.754844), (-63.239497, 70.754844), (-63.239497, 63.239497))
            Line((-63.239497, 63.239497), (-53.881537, 53.881537))
        make_face()
        with BuildLine():
            Line((-63.239497, -63.239497), (-53.881537, -53.881537))
            ThreePointArc((-53.881537, -53.881537), (-57.516593, -49.982812), (-60.870193, -45.839498))
            Line((-60.870193, -45.839498), (-70.754844, -55.72415))
            ThreePointArc((-70.754844, -55.72415), (-70.754844, -63.239497), (-63.239497, -63.239497))
        make_face()
        with BuildLine():
            ThreePointArc((-65.991136, 38.1), (-63.166079, 42.620259), (-60.03192, 46.931956))
            Line((-60.03192, 46.931956), (-72.138096, 53.92146))
            ThreePointArc((-72.138096, 53.92146), (-79.397365, 51.976345), (-77.45225, 44.717077))
            Line((-77.45225, 44.717077), (-65.991136, 38.1))
        make_face()
        with BuildLine():
            Line((-77.45225, -44.717077), (-65.991136, -38.1))
            ThreePointArc((-65.991136, -38.1), (-68.493266, -33.3933), (-70.660227, -28.52319))
            Line((-70.660227, -28.52319), (-82.766403, -35.512694))
            ThreePointArc((-82.766403, -35.512694), (-84.711518, -42.771962), (-77.45225, -44.717077))
        make_face()
        with BuildLine():
            ThreePointArc((-73.603548, 19.722011), (-72.044682, 24.819425), (-70.133266, 29.795384))
            Line((-70.133266, 29.795384), (-83.635951, 33.413418))
            ThreePointArc((-83.635951, 33.413418), (-90.144433, 29.655744), (-86.386759, 23.147262))
            Line((-86.386759, 23.147262), (-73.603548, 19.722011))
        make_face()
        with BuildLine():
            Line((-86.386759, -23.147262), (-73.603548, -19.722011))
            ThreePointArc((-73.603548, -19.722011), (-74.802237, -14.528089), (-75.634883, -9.263073))
            Line((-75.634883, -9.263073), (-89.137568, -12.881107))
            ThreePointArc((-89.137568, -12.881107), (-92.895241, -19.389589), (-86.386759, -23.147262))
        make_face()
        with BuildLine():
            ThreePointArc((-76.2, 0), (-76.013558, 5.327187), (-75.455146, 10.628306))
            Line((-75.455146, 10.628306), (-89.434154, 10.628306))
            ThreePointArc((-89.434154, 10.628306), (-94.748307, 5.314153), (-89.434154, 0))
            Line((-89.434154, 0), (-76.2, 0))
        make_face()
    extrude(amount=F1_DEPTH)


solid = f1.part
